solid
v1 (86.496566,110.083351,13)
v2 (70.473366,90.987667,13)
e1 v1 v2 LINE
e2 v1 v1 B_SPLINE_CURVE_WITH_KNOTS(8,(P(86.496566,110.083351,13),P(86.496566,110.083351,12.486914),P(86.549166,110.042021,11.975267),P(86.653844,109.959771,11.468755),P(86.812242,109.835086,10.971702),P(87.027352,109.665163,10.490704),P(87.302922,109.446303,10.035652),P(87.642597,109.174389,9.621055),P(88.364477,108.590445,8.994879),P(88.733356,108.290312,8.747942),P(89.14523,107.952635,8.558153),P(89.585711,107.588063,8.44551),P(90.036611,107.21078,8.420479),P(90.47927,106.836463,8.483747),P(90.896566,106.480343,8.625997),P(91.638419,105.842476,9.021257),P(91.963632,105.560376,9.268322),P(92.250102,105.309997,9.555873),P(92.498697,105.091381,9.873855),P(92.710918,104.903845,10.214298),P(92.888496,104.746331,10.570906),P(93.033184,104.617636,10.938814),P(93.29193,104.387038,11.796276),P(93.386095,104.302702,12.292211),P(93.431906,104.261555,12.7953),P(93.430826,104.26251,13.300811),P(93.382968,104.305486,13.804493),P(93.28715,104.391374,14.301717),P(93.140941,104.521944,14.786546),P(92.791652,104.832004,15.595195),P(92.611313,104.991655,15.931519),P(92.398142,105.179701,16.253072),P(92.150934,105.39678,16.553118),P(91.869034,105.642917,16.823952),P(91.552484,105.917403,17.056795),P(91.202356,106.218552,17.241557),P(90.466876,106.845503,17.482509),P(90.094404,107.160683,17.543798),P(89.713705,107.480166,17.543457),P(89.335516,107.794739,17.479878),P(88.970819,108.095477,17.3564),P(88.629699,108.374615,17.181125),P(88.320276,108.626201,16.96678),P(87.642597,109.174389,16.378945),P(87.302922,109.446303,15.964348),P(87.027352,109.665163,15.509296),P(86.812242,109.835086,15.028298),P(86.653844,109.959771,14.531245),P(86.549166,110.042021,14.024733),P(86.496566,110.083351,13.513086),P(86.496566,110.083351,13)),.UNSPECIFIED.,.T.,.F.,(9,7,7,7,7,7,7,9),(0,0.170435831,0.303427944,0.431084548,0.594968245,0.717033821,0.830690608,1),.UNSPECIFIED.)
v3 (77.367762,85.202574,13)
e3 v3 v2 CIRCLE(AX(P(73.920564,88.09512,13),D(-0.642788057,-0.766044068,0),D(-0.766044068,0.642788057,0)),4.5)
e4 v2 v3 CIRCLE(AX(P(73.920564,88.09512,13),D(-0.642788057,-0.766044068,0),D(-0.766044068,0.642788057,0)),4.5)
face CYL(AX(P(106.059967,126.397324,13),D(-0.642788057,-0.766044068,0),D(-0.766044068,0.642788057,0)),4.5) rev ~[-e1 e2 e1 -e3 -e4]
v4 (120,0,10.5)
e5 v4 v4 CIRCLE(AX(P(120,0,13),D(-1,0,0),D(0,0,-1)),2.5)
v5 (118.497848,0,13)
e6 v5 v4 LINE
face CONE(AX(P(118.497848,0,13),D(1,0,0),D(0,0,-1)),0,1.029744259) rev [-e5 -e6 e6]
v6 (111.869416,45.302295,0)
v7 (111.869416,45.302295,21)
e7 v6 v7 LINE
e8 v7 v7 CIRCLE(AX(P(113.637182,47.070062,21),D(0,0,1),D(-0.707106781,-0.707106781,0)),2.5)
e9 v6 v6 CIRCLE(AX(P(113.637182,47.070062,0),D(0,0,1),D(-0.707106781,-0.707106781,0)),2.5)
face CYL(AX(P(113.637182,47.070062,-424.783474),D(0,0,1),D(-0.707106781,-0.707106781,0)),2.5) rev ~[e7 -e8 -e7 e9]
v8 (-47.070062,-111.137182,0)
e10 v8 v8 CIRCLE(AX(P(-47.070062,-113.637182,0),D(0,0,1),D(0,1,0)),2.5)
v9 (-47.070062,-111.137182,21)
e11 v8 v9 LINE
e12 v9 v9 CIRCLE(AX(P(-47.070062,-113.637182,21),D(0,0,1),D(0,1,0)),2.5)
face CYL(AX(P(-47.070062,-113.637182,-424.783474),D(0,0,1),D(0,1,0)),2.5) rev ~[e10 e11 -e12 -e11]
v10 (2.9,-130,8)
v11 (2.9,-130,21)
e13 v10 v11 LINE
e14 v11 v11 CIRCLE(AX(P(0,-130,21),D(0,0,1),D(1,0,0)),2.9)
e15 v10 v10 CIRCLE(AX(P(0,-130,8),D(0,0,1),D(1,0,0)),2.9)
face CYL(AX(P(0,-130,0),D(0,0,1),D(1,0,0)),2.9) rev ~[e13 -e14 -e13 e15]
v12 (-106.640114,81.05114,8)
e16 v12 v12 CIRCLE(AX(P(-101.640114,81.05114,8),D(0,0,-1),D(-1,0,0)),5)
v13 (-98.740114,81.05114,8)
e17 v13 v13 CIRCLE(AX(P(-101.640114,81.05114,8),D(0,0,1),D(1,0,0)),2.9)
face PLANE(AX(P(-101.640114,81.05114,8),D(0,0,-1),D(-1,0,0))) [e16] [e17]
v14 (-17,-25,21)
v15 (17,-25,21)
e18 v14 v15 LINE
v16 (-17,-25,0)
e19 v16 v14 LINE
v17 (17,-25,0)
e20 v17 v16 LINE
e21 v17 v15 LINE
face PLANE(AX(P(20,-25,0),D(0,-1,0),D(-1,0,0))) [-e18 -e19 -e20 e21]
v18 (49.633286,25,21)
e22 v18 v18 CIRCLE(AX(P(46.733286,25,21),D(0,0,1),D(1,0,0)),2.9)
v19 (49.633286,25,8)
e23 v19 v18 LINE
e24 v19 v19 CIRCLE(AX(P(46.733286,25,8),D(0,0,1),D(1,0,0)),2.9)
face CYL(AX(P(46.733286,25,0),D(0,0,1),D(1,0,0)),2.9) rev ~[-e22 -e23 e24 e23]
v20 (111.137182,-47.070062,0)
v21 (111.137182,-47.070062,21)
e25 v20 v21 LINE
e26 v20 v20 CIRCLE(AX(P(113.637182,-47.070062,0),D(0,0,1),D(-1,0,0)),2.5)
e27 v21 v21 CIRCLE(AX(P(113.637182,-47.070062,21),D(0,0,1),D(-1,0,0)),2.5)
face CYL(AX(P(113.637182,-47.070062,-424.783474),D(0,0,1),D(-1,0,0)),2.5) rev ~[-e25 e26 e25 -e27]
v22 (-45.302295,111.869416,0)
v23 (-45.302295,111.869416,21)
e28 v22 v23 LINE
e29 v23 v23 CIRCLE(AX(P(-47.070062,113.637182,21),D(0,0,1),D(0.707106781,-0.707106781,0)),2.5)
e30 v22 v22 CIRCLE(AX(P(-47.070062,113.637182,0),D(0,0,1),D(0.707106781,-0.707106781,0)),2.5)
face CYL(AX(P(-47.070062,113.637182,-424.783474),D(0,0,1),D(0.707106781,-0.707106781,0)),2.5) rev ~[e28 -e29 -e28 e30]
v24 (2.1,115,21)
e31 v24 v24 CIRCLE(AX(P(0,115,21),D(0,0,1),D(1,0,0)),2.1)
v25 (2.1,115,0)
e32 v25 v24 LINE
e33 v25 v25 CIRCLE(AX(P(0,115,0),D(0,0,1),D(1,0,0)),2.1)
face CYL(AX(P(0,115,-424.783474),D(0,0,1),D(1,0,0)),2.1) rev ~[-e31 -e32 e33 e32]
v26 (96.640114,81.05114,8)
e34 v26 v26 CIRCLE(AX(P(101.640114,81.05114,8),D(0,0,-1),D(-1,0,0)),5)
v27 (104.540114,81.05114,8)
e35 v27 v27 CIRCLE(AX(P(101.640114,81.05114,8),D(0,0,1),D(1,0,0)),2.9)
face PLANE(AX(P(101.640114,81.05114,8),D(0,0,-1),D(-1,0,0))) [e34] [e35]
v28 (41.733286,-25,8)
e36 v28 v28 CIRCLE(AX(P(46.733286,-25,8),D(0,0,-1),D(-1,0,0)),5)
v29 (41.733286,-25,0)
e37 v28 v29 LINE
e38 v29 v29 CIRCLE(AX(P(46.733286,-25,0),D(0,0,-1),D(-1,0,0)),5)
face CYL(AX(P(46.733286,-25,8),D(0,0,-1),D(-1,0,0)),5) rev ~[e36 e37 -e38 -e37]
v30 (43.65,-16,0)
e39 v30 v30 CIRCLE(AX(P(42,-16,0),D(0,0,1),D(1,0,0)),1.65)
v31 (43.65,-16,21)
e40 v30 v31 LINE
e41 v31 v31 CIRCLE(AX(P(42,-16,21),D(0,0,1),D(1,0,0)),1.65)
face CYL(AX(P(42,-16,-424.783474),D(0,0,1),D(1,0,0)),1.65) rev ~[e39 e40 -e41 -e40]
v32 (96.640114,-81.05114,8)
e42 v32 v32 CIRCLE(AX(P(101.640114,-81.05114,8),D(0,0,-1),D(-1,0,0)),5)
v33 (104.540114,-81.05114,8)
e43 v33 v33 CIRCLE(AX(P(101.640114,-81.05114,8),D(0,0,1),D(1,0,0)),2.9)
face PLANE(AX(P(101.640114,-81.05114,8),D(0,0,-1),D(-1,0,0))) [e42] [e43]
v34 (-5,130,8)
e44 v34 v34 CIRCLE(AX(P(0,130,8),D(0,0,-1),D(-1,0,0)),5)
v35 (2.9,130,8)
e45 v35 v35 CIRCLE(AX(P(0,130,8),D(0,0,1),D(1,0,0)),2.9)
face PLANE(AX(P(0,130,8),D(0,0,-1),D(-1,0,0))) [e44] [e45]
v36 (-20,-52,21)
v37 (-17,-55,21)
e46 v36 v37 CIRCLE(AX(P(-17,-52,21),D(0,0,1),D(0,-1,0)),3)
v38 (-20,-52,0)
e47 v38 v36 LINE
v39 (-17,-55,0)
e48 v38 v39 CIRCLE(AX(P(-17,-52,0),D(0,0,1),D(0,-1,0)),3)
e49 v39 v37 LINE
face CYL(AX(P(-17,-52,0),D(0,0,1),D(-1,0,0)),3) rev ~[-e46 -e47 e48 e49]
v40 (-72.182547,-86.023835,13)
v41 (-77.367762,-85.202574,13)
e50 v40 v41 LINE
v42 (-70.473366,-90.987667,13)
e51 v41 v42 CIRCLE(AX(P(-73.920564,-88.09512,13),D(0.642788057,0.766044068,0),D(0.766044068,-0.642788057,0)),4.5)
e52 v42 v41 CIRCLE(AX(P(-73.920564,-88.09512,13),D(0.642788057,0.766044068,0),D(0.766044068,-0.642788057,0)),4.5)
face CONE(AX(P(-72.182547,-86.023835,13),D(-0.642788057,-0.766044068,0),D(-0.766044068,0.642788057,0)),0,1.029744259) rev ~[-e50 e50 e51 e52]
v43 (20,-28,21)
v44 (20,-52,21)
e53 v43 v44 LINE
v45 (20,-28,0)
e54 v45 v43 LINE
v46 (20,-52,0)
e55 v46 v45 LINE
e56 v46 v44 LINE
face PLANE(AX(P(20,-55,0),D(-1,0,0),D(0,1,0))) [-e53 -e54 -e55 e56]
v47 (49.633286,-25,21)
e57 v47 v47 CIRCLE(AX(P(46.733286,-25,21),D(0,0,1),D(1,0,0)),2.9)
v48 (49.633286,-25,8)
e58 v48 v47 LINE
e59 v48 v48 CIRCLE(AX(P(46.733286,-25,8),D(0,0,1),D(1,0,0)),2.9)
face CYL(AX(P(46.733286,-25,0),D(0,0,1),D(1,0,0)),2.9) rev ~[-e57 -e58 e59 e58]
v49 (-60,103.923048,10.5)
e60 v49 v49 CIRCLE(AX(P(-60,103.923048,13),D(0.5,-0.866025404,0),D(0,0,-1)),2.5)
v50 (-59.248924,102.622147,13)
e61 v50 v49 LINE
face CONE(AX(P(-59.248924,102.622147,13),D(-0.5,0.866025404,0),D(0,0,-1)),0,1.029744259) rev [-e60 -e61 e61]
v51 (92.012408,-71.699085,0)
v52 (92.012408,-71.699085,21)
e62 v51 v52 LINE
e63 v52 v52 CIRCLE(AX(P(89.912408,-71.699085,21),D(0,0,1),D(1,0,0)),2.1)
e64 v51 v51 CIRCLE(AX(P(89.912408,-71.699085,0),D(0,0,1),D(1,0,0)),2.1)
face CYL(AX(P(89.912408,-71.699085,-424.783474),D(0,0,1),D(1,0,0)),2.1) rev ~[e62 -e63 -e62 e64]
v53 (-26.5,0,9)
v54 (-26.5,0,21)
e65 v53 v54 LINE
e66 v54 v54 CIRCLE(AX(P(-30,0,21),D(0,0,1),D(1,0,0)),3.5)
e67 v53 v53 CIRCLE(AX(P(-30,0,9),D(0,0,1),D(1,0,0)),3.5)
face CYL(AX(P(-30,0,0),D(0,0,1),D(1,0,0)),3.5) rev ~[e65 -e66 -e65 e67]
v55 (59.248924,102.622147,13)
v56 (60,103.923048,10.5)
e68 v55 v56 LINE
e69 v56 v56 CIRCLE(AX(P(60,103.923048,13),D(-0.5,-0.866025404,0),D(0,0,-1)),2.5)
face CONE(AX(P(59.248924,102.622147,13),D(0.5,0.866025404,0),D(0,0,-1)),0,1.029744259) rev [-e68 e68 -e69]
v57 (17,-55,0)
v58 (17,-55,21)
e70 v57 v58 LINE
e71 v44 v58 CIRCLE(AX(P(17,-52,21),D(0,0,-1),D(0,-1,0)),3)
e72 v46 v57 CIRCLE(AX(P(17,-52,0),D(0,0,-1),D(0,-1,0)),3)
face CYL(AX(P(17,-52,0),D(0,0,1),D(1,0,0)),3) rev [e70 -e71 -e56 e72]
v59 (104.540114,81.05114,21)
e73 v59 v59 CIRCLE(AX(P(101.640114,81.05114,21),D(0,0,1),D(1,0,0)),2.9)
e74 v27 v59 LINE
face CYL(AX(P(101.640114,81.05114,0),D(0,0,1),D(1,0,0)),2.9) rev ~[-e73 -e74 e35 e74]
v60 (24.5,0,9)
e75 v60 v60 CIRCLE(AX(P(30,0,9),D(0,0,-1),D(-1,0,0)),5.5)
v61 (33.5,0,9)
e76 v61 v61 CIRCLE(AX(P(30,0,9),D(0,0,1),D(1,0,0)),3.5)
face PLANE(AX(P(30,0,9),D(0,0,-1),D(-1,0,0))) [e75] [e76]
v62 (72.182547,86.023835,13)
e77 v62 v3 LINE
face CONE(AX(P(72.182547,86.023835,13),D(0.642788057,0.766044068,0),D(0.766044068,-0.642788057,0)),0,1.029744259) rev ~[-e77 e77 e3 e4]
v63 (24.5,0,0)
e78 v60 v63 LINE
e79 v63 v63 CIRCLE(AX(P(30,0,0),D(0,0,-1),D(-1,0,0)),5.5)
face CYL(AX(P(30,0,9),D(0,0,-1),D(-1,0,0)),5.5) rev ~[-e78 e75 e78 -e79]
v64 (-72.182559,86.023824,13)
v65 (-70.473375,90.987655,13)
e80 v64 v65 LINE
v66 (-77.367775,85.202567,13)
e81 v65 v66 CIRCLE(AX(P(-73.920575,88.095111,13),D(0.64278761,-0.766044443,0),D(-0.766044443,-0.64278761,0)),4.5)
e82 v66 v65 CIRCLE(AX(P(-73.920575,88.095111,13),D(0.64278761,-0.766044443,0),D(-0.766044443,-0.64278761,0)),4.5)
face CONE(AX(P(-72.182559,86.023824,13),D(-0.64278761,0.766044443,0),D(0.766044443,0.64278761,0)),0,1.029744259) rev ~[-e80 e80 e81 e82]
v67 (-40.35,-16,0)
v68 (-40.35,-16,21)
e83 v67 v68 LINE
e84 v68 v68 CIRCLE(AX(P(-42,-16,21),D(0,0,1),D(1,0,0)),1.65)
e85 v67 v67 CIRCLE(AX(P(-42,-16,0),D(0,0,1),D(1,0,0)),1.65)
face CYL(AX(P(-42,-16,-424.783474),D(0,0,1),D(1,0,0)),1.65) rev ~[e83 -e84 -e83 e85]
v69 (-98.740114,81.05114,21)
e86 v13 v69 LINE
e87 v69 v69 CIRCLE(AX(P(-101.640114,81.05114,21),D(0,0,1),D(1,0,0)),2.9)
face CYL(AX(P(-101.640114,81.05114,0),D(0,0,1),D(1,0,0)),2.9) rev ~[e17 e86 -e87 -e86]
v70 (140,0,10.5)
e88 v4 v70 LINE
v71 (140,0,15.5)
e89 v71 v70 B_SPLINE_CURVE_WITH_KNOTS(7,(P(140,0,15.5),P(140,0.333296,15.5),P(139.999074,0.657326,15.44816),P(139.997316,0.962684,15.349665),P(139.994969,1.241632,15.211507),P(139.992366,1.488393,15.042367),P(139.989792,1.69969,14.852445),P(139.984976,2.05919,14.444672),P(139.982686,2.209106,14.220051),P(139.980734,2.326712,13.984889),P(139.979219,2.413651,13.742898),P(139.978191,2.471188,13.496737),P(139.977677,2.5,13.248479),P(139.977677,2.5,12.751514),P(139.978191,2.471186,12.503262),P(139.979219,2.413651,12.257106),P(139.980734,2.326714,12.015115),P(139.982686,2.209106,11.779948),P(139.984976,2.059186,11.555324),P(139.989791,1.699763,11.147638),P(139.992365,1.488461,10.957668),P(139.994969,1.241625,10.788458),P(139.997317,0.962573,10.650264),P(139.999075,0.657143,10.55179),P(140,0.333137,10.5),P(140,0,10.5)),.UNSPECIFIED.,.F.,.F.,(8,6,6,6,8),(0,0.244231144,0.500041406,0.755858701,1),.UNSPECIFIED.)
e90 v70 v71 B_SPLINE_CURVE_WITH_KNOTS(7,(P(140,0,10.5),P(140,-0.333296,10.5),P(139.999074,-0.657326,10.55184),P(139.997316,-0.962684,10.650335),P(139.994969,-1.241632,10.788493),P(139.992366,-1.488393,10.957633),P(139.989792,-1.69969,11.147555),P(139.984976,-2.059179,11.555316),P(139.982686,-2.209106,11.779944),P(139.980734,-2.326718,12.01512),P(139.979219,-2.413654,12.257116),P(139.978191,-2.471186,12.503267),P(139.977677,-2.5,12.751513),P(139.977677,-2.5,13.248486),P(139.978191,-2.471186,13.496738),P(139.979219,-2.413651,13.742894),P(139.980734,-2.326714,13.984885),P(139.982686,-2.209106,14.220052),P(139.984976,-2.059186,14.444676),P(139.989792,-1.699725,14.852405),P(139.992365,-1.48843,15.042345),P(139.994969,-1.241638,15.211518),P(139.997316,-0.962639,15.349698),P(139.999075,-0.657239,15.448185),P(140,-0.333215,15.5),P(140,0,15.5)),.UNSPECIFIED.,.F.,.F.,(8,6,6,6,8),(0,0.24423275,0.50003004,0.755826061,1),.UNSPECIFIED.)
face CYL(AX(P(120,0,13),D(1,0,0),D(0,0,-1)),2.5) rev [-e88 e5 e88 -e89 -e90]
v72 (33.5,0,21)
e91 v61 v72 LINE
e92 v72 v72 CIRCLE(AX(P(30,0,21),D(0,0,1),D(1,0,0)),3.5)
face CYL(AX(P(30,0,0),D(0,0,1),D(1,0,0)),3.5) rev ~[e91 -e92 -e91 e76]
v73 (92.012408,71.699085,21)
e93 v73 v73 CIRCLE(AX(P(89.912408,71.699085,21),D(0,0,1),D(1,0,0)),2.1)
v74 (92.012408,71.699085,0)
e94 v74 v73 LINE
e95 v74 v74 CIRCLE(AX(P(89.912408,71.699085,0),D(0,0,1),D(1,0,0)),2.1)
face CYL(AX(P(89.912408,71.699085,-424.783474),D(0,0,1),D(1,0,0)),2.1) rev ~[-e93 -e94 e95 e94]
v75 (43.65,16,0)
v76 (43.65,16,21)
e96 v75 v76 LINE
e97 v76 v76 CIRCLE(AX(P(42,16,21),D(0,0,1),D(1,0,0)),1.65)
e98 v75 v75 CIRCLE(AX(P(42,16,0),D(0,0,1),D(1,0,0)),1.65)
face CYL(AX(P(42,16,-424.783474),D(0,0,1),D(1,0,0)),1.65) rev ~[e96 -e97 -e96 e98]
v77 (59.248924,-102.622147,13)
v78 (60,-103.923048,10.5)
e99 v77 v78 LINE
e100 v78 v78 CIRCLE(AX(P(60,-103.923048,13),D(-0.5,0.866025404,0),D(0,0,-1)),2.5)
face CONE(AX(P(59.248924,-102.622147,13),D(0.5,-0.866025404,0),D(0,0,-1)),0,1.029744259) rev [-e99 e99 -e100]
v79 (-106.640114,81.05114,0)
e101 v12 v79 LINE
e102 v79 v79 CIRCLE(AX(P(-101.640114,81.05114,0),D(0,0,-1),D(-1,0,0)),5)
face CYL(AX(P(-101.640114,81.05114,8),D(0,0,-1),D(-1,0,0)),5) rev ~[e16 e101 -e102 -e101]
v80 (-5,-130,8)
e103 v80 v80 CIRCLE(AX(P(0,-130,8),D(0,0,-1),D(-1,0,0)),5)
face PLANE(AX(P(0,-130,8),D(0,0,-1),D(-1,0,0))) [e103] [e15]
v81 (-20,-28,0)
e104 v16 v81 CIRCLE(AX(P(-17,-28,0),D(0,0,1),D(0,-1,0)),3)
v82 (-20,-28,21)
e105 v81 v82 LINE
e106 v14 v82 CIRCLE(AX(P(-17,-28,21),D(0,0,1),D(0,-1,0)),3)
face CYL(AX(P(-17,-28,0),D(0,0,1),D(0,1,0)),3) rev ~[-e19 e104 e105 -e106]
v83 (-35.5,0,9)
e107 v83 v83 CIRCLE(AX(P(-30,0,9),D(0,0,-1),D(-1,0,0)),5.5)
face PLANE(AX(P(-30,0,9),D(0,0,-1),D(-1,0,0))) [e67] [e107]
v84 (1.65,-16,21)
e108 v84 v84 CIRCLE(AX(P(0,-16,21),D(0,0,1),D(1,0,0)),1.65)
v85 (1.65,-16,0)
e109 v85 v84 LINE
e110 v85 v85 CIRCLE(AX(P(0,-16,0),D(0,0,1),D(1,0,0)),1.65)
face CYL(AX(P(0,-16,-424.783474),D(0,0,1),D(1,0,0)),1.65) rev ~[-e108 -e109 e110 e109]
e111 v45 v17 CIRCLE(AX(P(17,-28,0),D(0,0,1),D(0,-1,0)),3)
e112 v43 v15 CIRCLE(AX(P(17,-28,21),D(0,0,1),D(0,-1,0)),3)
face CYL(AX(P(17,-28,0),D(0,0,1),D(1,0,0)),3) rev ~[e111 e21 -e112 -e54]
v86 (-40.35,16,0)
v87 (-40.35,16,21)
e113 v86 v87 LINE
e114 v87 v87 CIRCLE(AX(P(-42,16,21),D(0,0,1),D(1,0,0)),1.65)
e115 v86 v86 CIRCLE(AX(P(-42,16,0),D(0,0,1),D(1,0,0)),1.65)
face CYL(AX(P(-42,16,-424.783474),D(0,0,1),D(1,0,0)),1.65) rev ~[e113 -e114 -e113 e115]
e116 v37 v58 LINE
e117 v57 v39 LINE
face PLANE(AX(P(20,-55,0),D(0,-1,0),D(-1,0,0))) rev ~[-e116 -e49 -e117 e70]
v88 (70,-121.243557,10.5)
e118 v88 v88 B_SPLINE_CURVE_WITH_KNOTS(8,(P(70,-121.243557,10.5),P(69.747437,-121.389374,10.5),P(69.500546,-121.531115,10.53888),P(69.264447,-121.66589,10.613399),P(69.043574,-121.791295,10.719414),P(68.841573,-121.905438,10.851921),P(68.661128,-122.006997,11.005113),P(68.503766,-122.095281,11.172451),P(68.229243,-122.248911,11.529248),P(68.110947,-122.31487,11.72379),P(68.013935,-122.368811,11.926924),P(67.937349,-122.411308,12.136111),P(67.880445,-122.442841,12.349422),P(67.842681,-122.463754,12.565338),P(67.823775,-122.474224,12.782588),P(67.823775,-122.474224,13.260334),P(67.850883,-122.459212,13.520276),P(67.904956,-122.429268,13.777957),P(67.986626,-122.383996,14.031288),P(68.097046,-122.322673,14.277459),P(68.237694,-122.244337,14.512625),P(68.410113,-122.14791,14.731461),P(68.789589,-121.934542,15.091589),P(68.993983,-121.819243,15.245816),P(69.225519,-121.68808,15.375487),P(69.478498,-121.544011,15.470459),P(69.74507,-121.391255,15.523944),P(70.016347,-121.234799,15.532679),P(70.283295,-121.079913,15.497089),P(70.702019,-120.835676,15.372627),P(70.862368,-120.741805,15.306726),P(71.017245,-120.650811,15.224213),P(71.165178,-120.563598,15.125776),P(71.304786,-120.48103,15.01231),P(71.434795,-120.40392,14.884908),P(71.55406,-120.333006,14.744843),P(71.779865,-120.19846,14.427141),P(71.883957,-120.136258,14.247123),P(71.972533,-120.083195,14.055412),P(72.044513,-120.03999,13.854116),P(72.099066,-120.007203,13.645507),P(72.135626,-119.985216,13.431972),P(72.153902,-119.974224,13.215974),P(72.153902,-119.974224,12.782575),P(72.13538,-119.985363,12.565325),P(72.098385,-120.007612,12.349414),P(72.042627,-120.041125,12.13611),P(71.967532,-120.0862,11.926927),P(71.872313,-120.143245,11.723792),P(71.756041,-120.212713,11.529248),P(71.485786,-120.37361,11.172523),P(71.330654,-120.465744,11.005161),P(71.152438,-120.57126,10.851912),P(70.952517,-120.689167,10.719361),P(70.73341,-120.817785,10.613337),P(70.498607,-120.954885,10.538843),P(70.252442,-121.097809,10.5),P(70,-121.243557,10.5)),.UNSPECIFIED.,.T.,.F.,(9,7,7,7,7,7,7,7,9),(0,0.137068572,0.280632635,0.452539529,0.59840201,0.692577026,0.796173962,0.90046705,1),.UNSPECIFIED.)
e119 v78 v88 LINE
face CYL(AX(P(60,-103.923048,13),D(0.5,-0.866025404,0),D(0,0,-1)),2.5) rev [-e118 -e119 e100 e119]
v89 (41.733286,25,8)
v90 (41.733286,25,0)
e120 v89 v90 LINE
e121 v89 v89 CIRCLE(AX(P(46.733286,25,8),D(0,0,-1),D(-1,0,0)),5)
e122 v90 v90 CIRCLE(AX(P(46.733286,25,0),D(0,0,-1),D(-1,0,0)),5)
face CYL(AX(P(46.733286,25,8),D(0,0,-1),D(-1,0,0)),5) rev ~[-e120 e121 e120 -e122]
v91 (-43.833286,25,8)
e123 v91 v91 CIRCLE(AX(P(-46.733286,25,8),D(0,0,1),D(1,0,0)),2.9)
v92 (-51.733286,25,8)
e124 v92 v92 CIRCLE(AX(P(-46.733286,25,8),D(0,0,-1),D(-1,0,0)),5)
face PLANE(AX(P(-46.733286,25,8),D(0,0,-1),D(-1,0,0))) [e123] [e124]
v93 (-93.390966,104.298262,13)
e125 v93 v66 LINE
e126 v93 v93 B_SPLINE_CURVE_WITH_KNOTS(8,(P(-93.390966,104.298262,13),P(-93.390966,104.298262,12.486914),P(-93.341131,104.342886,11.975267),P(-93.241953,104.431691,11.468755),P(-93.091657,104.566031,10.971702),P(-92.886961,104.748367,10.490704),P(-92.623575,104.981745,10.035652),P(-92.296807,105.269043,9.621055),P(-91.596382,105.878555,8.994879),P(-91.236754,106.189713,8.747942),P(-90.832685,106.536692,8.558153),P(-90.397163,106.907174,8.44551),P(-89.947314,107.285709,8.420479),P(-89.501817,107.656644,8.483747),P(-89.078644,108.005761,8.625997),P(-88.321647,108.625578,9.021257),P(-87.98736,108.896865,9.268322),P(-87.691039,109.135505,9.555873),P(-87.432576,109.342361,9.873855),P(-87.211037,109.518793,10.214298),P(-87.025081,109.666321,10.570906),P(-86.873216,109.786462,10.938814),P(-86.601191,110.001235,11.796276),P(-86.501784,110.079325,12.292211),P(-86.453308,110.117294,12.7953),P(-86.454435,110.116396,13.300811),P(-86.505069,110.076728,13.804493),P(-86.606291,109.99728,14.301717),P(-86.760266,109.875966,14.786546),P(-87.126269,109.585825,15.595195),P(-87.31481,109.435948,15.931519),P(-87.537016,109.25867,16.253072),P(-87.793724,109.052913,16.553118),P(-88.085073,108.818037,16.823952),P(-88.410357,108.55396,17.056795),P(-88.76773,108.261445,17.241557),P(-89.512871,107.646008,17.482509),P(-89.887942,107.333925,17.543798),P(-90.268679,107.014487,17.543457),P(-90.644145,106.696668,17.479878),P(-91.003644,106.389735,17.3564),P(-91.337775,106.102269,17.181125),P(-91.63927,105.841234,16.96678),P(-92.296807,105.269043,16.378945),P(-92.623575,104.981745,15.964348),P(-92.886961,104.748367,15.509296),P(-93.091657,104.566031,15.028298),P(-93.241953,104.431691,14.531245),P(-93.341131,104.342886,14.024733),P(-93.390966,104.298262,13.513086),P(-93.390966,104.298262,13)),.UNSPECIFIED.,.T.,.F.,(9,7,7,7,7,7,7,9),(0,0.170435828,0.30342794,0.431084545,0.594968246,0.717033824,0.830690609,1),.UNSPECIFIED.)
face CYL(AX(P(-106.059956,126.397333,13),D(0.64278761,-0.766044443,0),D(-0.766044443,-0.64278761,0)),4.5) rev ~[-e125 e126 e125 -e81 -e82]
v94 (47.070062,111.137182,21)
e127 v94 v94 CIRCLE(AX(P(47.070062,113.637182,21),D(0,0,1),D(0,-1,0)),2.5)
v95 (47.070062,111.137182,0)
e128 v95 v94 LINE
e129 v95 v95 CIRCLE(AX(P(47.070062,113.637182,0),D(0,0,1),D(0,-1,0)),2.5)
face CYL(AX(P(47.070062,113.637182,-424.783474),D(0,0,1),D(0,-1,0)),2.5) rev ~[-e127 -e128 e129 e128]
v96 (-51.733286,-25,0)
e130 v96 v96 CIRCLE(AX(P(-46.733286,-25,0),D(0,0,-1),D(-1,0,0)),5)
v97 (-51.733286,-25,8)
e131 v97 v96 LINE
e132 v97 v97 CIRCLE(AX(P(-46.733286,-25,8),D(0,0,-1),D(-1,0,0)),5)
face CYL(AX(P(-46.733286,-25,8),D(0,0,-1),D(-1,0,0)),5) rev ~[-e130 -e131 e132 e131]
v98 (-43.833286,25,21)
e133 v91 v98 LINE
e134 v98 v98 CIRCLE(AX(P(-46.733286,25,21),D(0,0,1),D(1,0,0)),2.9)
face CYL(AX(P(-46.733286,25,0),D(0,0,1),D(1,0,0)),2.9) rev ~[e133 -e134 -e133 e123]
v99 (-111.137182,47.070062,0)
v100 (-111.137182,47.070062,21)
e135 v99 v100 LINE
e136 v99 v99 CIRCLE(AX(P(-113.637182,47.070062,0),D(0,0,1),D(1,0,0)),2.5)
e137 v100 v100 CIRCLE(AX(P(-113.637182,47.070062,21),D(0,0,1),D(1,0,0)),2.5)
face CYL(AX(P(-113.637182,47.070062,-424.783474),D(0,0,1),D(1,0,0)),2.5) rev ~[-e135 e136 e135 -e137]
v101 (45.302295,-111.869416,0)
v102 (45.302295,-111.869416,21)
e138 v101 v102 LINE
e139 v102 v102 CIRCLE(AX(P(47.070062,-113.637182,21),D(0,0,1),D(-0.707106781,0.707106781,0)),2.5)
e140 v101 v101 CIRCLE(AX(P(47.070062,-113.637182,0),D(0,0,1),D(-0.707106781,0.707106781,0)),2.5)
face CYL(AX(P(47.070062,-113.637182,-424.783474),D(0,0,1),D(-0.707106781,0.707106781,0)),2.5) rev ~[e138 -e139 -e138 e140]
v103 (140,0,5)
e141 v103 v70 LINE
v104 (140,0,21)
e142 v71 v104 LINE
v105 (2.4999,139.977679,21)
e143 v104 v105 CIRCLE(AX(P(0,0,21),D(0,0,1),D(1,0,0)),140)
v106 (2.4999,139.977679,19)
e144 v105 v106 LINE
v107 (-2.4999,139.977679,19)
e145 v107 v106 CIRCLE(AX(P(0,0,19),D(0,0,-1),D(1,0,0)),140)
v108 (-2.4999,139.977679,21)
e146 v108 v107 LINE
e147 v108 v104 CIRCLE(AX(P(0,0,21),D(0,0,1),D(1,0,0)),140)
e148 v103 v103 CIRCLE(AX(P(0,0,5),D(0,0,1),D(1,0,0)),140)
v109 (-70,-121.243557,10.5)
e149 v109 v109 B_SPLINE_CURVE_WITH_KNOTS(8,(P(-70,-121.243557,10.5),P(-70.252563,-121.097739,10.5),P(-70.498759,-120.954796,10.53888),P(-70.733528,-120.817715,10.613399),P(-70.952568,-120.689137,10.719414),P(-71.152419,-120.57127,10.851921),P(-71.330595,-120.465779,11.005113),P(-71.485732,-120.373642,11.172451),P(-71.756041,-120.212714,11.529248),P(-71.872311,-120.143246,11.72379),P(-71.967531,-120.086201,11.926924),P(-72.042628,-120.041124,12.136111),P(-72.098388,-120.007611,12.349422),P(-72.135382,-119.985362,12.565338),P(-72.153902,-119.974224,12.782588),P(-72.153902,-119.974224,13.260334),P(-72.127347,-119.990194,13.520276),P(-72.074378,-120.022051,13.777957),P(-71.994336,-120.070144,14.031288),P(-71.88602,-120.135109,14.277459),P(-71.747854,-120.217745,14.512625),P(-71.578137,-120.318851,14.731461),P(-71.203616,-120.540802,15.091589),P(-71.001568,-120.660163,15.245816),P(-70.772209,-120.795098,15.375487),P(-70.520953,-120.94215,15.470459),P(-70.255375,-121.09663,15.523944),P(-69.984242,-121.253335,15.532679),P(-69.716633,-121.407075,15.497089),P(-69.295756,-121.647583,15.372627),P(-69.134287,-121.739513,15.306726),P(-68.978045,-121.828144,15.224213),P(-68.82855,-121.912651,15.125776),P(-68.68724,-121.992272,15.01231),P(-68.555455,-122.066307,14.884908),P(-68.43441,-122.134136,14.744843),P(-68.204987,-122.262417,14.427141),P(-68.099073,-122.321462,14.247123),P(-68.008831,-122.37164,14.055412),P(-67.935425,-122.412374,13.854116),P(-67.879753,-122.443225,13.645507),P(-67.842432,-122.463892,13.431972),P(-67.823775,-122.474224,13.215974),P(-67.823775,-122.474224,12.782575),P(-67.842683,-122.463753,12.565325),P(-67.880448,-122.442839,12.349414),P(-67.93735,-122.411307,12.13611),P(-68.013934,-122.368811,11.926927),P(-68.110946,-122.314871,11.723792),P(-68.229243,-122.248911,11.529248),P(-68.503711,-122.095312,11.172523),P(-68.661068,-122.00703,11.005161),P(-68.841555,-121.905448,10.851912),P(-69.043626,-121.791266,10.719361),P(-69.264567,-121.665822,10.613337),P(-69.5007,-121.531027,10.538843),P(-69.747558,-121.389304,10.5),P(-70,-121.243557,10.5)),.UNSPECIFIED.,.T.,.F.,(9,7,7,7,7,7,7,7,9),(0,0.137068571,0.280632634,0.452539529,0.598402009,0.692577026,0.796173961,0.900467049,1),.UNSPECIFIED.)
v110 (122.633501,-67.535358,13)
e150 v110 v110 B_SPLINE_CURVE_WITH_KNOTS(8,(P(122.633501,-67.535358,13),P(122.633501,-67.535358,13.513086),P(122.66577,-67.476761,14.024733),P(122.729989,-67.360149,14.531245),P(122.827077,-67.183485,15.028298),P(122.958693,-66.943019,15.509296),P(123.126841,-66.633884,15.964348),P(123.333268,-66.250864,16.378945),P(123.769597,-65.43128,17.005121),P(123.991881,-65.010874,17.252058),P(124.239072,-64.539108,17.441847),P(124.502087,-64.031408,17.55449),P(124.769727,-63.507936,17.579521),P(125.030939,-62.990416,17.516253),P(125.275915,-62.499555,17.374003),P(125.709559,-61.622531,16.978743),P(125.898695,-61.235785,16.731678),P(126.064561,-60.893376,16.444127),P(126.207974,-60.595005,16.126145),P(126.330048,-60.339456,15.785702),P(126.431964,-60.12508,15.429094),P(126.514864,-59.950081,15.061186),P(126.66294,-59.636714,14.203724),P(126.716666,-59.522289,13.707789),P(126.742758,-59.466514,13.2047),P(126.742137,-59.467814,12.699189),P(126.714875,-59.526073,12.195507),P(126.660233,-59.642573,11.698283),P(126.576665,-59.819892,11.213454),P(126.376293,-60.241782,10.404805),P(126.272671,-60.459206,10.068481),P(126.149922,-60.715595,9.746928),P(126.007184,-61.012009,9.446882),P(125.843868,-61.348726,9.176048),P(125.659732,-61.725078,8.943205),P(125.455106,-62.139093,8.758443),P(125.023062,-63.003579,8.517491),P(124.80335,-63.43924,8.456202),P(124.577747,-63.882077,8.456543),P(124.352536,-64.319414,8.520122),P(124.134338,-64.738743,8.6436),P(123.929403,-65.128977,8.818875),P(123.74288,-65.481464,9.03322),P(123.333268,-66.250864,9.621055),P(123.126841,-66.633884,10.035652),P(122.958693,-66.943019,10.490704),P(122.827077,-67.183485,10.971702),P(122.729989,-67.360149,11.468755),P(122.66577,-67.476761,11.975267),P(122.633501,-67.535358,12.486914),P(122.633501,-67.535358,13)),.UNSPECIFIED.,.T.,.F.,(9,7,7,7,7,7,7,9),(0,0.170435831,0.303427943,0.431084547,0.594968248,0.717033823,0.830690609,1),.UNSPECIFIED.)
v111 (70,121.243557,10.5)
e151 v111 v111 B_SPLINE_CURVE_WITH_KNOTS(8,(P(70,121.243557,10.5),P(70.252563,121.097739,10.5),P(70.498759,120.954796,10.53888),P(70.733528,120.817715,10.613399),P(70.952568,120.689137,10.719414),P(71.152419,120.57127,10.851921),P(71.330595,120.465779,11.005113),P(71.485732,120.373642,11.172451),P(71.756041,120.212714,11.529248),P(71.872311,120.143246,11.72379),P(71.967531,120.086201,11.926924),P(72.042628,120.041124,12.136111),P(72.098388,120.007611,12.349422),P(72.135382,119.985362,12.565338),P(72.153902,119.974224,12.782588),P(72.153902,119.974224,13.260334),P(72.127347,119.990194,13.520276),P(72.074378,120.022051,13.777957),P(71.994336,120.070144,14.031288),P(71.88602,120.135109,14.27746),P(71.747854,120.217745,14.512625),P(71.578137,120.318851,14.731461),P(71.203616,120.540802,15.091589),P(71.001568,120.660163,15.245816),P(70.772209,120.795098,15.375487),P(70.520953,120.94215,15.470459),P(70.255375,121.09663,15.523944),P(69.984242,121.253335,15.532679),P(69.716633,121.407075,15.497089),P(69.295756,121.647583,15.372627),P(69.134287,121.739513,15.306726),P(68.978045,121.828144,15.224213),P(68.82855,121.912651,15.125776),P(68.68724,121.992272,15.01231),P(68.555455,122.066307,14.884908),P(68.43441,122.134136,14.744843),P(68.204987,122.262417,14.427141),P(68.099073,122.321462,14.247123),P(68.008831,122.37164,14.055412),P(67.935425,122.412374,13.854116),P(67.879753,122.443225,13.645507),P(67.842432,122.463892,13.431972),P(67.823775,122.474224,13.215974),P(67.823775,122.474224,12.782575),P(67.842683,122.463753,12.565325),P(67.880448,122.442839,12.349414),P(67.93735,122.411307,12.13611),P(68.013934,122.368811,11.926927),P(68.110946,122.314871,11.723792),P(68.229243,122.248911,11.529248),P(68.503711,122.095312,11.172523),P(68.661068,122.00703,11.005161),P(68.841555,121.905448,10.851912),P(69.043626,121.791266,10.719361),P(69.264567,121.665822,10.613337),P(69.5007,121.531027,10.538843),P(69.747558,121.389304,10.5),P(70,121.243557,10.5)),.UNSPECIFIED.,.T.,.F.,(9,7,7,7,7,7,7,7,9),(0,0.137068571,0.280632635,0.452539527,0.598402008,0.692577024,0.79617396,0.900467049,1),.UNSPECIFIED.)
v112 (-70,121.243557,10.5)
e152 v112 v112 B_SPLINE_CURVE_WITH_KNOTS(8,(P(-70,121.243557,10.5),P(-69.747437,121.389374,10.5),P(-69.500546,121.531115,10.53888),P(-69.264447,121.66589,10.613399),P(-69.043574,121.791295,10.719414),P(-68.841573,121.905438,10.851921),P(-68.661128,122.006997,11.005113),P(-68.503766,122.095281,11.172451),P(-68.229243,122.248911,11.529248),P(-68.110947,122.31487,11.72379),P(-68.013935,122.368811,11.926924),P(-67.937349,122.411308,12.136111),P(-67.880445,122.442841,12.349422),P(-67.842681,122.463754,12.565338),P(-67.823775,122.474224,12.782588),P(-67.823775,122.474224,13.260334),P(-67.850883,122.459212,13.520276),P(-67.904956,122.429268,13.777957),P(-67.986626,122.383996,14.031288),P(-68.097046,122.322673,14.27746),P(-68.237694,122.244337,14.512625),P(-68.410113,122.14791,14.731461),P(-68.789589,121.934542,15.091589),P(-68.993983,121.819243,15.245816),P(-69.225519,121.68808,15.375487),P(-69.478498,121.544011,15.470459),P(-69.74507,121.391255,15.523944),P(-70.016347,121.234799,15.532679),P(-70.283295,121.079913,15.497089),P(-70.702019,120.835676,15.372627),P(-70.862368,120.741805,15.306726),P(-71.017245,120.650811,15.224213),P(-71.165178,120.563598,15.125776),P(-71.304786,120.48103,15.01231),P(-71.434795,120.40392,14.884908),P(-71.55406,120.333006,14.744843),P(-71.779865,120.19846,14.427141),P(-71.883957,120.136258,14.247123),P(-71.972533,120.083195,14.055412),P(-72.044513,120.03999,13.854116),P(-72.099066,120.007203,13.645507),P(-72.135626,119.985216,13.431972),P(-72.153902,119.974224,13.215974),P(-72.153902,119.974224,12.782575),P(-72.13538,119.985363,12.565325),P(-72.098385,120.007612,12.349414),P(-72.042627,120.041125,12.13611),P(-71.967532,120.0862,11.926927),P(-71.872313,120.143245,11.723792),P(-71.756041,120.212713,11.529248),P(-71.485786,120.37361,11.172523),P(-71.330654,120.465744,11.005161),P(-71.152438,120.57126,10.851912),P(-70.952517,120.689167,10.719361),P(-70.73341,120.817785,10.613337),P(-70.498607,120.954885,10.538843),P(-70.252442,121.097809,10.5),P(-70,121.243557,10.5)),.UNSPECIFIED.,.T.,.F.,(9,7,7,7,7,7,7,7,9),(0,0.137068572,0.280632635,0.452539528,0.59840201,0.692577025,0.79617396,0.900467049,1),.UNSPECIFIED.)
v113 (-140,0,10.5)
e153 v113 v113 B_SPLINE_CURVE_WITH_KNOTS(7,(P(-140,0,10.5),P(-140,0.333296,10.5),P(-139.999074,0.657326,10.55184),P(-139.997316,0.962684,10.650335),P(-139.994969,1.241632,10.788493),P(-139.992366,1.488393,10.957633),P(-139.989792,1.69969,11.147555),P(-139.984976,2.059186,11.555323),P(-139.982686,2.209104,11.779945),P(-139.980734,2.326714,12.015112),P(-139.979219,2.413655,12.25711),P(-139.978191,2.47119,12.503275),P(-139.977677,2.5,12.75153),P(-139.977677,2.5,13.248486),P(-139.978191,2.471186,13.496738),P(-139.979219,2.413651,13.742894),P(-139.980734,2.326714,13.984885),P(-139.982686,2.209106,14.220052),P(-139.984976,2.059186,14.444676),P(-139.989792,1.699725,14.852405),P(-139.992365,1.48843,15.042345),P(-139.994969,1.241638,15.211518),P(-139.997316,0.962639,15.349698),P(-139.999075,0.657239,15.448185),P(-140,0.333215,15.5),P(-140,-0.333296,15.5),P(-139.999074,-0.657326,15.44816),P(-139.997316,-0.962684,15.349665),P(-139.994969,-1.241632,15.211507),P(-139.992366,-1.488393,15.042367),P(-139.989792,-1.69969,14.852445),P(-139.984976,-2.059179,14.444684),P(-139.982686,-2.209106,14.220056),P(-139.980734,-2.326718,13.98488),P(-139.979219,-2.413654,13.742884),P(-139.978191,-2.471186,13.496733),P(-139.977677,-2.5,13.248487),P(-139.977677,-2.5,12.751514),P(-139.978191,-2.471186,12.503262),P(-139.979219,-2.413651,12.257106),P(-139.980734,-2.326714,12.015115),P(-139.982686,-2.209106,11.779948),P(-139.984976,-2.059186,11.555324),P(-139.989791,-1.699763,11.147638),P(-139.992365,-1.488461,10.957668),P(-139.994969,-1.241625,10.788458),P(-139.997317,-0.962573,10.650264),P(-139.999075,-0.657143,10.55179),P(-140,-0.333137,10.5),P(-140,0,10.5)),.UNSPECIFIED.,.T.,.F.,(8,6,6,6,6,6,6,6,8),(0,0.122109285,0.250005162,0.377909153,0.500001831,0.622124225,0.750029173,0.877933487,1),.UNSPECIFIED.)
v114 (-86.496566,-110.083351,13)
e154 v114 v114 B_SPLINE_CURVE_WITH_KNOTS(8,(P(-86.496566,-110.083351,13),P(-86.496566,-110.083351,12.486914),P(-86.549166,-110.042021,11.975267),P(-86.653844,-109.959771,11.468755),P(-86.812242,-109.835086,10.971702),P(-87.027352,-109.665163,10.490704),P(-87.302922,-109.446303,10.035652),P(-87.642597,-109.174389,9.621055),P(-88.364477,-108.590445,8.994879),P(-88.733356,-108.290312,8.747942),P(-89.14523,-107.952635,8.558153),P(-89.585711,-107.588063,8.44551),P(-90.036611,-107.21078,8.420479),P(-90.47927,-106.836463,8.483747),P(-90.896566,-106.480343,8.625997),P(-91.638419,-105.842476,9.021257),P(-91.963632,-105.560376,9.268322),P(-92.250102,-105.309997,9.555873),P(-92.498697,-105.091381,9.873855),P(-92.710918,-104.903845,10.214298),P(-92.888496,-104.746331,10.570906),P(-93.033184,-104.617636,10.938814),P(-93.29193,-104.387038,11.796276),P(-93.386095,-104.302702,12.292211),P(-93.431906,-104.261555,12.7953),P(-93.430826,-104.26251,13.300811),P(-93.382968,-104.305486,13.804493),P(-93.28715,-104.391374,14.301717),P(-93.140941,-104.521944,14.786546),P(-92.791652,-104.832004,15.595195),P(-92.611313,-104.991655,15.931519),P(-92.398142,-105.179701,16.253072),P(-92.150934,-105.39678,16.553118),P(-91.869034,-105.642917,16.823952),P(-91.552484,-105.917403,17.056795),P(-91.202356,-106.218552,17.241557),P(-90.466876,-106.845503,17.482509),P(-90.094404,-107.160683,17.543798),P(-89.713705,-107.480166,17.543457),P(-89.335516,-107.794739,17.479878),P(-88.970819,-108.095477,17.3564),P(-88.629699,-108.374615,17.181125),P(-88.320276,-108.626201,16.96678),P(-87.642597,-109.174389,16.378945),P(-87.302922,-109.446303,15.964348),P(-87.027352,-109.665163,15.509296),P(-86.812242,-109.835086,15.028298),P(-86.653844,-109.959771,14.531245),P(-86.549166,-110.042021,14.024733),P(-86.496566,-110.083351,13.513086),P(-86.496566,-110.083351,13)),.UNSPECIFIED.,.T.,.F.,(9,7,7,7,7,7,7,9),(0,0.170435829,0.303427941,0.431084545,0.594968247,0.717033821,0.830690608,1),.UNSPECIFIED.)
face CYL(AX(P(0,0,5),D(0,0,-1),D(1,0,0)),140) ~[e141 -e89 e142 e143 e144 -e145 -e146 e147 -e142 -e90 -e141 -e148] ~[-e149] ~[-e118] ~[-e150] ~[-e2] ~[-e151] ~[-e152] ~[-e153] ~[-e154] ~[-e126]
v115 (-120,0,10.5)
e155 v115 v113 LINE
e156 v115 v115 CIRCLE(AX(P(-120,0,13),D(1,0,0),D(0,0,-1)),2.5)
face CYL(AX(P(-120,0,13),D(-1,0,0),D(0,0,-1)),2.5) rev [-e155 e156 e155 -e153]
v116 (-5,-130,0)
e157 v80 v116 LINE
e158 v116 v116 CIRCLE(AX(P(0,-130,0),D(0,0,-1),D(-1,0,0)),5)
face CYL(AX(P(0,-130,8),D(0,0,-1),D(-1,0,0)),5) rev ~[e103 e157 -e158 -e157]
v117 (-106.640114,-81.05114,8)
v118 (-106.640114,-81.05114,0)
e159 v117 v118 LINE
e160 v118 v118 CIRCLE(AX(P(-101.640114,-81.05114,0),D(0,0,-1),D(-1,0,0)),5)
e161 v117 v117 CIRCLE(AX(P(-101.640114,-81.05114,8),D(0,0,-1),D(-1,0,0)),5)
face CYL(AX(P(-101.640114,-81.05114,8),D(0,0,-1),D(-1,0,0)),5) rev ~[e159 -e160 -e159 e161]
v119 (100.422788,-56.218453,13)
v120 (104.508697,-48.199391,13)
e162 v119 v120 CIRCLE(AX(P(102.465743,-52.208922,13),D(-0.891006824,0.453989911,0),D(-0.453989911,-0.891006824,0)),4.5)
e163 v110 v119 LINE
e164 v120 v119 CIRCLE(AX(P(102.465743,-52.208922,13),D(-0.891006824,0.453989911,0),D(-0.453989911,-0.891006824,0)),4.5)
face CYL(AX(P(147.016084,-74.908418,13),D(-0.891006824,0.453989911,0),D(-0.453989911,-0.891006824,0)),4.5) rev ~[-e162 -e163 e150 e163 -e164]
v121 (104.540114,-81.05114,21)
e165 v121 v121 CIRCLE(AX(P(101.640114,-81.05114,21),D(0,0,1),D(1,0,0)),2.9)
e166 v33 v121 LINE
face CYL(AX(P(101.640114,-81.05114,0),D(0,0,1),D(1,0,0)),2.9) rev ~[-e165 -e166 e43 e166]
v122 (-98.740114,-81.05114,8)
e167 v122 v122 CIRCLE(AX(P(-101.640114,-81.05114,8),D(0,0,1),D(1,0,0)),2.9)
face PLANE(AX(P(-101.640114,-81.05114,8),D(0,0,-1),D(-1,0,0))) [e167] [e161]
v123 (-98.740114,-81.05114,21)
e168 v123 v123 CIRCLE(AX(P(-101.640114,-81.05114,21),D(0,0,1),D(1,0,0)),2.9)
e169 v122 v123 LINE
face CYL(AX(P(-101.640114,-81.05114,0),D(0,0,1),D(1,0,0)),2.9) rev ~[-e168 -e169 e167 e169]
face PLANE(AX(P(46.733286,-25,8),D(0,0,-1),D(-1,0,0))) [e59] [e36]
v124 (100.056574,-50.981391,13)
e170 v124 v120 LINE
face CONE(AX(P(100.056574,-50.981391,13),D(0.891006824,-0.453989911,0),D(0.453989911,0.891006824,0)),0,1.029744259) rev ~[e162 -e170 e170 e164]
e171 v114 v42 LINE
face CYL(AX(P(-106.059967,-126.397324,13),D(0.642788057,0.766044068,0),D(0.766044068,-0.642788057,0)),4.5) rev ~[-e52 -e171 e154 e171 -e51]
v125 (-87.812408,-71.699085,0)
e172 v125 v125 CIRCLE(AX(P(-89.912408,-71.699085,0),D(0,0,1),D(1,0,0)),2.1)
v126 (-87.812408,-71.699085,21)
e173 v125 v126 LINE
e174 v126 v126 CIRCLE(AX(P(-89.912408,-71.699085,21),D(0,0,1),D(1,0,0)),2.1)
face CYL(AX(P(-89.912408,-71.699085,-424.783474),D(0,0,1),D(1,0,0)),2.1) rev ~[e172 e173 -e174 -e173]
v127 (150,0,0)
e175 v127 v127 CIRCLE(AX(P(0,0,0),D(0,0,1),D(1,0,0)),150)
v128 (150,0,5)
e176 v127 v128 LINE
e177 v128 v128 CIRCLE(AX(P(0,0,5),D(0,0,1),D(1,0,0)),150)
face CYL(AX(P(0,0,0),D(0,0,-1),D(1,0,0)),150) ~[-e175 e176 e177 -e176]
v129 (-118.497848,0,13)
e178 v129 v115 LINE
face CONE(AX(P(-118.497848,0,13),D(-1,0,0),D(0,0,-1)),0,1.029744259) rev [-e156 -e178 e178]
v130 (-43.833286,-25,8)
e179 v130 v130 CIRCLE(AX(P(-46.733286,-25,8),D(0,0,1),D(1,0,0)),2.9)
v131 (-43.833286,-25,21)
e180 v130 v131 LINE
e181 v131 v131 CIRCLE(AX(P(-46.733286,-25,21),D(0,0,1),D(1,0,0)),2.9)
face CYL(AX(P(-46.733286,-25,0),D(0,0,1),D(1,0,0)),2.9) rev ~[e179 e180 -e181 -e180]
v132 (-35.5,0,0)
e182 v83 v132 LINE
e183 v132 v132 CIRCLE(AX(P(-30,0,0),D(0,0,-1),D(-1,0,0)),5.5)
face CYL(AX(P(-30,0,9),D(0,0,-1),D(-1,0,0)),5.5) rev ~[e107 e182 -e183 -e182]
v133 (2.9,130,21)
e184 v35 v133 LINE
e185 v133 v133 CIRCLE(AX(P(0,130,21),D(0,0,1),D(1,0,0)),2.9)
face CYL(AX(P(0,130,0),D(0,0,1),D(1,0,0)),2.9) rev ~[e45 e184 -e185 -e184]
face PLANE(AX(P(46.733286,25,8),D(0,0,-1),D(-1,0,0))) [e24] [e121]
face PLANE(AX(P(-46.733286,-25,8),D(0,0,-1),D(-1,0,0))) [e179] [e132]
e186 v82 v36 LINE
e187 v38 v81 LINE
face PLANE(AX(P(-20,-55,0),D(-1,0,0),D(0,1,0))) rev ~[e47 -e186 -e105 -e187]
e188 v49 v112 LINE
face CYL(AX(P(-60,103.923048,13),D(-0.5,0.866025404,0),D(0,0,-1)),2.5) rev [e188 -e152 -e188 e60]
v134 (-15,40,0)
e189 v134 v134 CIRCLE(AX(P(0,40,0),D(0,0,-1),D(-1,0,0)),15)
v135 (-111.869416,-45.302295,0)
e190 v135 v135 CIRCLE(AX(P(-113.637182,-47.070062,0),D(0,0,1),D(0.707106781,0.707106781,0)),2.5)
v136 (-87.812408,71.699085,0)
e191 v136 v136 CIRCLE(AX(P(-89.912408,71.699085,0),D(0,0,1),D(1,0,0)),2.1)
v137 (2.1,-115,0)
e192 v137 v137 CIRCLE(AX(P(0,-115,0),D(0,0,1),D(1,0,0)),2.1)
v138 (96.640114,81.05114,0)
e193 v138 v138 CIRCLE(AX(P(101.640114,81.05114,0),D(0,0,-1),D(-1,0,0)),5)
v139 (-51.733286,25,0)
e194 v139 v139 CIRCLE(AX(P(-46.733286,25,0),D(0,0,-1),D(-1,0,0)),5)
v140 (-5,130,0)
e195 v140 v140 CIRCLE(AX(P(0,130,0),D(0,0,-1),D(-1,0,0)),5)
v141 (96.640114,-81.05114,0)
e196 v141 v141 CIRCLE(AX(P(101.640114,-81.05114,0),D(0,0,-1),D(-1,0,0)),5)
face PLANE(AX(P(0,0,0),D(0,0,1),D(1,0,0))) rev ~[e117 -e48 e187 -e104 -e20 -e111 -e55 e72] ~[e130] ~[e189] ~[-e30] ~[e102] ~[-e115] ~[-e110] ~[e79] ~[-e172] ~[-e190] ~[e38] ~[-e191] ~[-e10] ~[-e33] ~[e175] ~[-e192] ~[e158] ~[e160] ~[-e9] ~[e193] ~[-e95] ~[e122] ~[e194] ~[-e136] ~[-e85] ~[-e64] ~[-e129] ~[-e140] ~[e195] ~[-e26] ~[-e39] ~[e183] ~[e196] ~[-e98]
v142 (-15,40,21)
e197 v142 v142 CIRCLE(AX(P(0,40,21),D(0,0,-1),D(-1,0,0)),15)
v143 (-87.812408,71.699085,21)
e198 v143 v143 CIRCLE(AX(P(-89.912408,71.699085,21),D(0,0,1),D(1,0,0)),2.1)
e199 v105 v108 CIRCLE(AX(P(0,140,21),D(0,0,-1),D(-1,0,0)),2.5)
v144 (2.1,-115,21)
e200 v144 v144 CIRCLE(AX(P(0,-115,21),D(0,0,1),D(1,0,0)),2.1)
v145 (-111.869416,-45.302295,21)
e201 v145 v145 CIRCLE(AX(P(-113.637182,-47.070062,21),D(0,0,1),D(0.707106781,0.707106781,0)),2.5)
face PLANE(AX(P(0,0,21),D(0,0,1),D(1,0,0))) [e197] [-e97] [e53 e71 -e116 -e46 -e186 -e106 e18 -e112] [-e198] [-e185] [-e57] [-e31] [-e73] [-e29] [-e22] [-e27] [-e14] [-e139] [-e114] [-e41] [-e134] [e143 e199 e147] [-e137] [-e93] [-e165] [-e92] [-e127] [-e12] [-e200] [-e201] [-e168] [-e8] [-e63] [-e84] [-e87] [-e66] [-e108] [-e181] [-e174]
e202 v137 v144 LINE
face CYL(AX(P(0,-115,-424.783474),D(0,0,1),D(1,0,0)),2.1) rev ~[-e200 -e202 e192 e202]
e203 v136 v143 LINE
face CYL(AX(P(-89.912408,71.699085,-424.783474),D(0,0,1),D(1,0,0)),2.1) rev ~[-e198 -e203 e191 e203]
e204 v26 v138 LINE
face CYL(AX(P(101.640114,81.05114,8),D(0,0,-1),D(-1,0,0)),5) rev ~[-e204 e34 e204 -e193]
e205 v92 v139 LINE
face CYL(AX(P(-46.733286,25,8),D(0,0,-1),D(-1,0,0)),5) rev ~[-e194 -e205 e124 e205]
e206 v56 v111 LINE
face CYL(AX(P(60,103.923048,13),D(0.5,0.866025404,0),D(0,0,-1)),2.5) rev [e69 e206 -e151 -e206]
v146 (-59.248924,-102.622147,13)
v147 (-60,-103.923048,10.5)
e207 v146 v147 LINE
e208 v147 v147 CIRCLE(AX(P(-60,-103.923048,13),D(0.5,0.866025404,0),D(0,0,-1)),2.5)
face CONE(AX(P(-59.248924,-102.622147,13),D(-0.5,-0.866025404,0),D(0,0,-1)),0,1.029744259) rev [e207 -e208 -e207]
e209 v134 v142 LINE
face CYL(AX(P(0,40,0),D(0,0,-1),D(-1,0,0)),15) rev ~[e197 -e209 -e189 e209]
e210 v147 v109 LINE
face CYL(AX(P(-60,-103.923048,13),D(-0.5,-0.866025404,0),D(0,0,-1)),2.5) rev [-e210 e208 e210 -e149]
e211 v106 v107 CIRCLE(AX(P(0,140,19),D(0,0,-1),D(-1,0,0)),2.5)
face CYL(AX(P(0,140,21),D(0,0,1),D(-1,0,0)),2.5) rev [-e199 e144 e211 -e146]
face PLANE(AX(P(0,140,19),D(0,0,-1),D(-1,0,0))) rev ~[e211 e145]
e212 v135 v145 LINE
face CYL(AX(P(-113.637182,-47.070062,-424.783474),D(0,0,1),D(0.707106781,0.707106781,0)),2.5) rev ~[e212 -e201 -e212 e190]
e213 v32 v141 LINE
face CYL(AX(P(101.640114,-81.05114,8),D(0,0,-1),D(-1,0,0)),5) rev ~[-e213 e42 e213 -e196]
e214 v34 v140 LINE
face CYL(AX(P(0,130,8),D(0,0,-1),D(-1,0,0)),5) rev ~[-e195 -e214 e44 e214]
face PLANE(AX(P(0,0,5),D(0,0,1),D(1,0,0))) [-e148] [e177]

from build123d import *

# Parameters (mm, degrees)
SKETCH_1_R                   = 150
EXTRUDE_1_DEPTH              = 5
SKETCH_2_R                   = 140
EXTRUDE_2_DEPTH              = 16
SKETCH_3_R                   = 15
SKETCH_3_W                   = 40
SKETCH_3_H                   = 30
CUT_EXTRUDE_1_DEPTH          = 214.168947082
FILLET_2_R                   = 3
HOLE_WIZARD_M5_1_D           = 5.8
HOLE_WIZARD_M5_1_CBORE_D     = 10
HOLE_WIZARD_M5_1_CBORE_DEPTH = 8
HOLE_WIZARD_M6_1_D           = 7
HOLE_WIZARD_M6_1_CBORE_D     = 11
HOLE_WIZARD_M6_1_CBORE_DEPTH = 9
HOLE_WIZARD_M5_2_D           = 5.8
HOLE_WIZARD_M5_2_CBORE_D     = 10
HOLE_WIZARD_M5_2_CBORE_DEPTH = 8
M4X0_7_1_D                   = 3.3
M6X1_0_1_D                   = 5
PATTERN_CIRCULAR_1_COUNT     = 8
SKETCH_14_R                  = 2.5
CUT_EXTRUDE_2_DEPTH          = 2
M5X0_8_1_D                   = 4.2
PATTERN_CIRCULAR_2_COUNT     = 6
M10X1_0_1_D                  = 9
M10X1_0_1_DEPTH              = 25
M10X1_0_1_TIP                = 2.703872786
M10X1_0_1_ON_FACE_2_D        = 9
M10X1_0_1_ON_FACE_2_DEPTH    = 25
M10X1_0_1_ON_FACE_2_TIP      = 2.703872786
M10X1_0_1_ON_FACE_3_D        = 9
M10X1_0_1_ON_FACE_3_DEPTH    = 25
M10X1_0_1_ON_FACE_3_TIP      = 2.703872786
M10X1_0_1_ON_FACE_4_D        = 9
M10X1_0_1_ON_FACE_4_DEPTH    = 25
M10X1_0_1_ON_FACE_4_TIP      = 2.703872786


with BuildPart() as part:
    # ｽｹｯﾁ1 → ﾎﾞｽ - 押し出し1 (new body)
    with BuildSketch(Plane.XY):
        Circle(SKETCH_1_R)
    extrude(amount=EXTRUDE_1_DEPTH)

    # ｽｹｯﾁ2 → ﾎﾞｽ - 押し出し2 (add)
    with BuildSketch(Plane.XY.offset(5)):
        Circle(SKETCH_2_R)
    extrude(amount=EXTRUDE_2_DEPTH)

    # ｽｹｯﾁ3 → ｶｯﾄ - 押し出し1 (cut, through all)
    with BuildSketch(Plane(origin=(0, 0, 0), x_dir=(-1, 0, 0), z_dir=(0, 0, -1))):
        with Locations((0, 40)):
            Circle(SKETCH_3_R)
        with Locations((0, -40)):
            Rectangle(SKETCH_3_W, SKETCH_3_H)
    extrude(amount=-CUT_EXTRUDE_1_DEPTH, mode=Mode.SUBTRACT)

    # ﾌｨﾚｯﾄ2
    fillet_2_edges = [part.edges().sort_by_distance(p)[0] for p in [
        (-20, -25, 10.5),
        (-20, -55, 10.5),
        (20, -55, 10.5),
        (20, -25, 10.5),
    ]]
    fillet(fillet_2_edges, radius=FILLET_2_R)

    # M5 穴付きねじ用座ぐり穴1 (through all)
    with Locations(Plane(origin=(0, 130, 0), x_dir=(-1, 0, 0), z_dir=(0, 0, -1))):
        with Locations((0, 0), (101.640113623, -48.948859954), (-101.640113623, -48.948859954), (-101.640113623, -211.051140046), (0, -260), (101.640113623, -211.051140046)):
            CounterBoreHole(HOLE_WIZARD_M5_1_D / 2, HOLE_WIZARD_M5_1_CBORE_D / 2, HOLE_WIZARD_M5_1_CBORE_DEPTH)

    # M6 穴付きねじ用座ぐり穴1 (through all)
    with Locations(Plane(origin=(30, 0, 0), x_dir=(-1, 0, 0), z_dir=(0, 0, -1))):
        with Locations((0, 0), (60, 0)):
            CounterBoreHole(HOLE_WIZARD_M6_1_D / 2, HOLE_WIZARD_M6_1_CBORE_D / 2, HOLE_WIZARD_M6_1_CBORE_DEPTH)

    # M5 穴付きねじ用座ぐり穴2 (through all)
    with Locations(Plane(origin=(46.733285782, 25, 0), x_dir=(-1, 0, 0), z_dir=(0, 0, -1))):
        with Locations((0, 0), (0, -50), (93.466571564, 0), (93.466571564, -50)):
            CounterBoreHole(HOLE_WIZARD_M5_2_D / 2, HOLE_WIZARD_M5_2_CBORE_D / 2, HOLE_WIZARD_M5_2_CBORE_DEPTH)

    # M4x0.7 ねじ穴1 (through all)
    with Locations(Plane(origin=(42, 16, 0), x_dir=(-1, 0, 0), z_dir=(0, 0, -1))):
        with Locations((0, 0), (84, 0), (84, -32), (42, -32), (0, -32)):
            Hole(M4X0_7_1_D / 2)

    # M6x1.0 ねじ穴1 (through all)
    with Locations(Plane(origin=(-113.637182499, 47.070062181, 0), x_dir=(-1, 0, 0), z_dir=(0, 0, -1))):
        with Locations((0, 0)):
            m6x1_0_1 = Hole(M6X1_0_1_D / 2)

    # 円形ﾊﾟﾀｰﾝ1: M6x1.0 ねじ穴1 ×8 about axis
    pattern_circular_1_axis = Axis((0, 0, 0), (0, 0, 1))
    for i in range(1, PATTERN_CIRCULAR_1_COUNT):
        add(m6x1_0_1.rotate(pattern_circular_1_axis, i * 360 / PATTERN_CIRCULAR_1_COUNT), mode=Mode.SUBTRACT)

    # ｽｹｯﾁ14 → ｶｯﾄ - 押し出し2 (cut)
    with BuildSketch(Plane(origin=(0, 0, 21), x_dir=(-1, 0, 0), z_dir=(0, 0, -1))):
        with Locations((0, 140)):
            Circle(SKETCH_14_R)
    extrude(amount=CUT_EXTRUDE_2_DEPTH, mode=Mode.SUBTRACT)

    # M5x0.8 ねじ穴1 (through all)
    with Locations(Plane(origin=(-89.912408205, 71.699085425, 0), x_dir=(-1, 0, 0), z_dir=(0, 0, -1))):
        with Locations((0, 0), (0, -143.39817085), (-89.912408205, -186.699085425), (-179.82481641, -143.39817085), (-179.82481641, 0), (-89.912408205, 43.300914575)):
            Hole(M5X0_8_1_D / 2)

    # ｽｹｯﾁ19 → M6x1.0 ねじ穴2 (revolve, cut)
    with BuildSketch(Plane(origin=(140, 0, 13), x_dir=(0, 0, -1), z_dir=(0, 1, 0))):
        Polygon((0, 0), (0, 21.502151548), (2.5, 20), (2.5, 0), align=None)
    m6x1_0_2 = revolve(axis=Axis((146.35, 0, 13), (-1, 0, 0)), mode=Mode.SUBTRACT)

    # 円形ﾊﾟﾀｰﾝ2: M6x1.0 ねじ穴2 ×6 about axis
    pattern_circular_2_axis = Axis((0, 0, -1.05), (0, 0, 1))
    for i in range(1, PATTERN_CIRCULAR_2_COUNT):
        add(m6x1_0_2.rotate(pattern_circular_2_axis, i * 360 / PATTERN_CIRCULAR_2_COUNT), mode=Mode.SUBTRACT)

    # M10x1.0 ねじ穴1
    with Locations(Plane(origin=(-89.990265356, 107.246222037, 13), x_dir=(0.766044443119, 0.642787609687, 0), z_dir=(-0.642787609687, 0.766044443119, 0))):
        with Locations((0, 0)):
            Hole(M10X1_0_1_D / 2, depth=M10X1_0_1_DEPTH)
            with Locations((0, 0, -(M10X1_0_1_DEPTH + M10X1_0_1_TIP / 2))):  # 118° drill point
                Cone(0, M10X1_0_1_D / 2, M10X1_0_1_TIP, mode=Mode.SUBTRACT)

    # M10x1.0 ねじ穴1 on face 2
    with Locations(Plane(origin=(89.990265356, 107.246222037, 13), x_dir=(0.766044067841, -0.642788056925, 0), z_dir=(0.642788056925, 0.766044067841, 0))):
        with Locations((0, 0)):
            Hole(M10X1_0_1_ON_FACE_2_D / 2, depth=M10X1_0_1_ON_FACE_2_DEPTH)
            with Locations((0, 0, -(M10X1_0_1_ON_FACE_2_DEPTH + M10X1_0_1_ON_FACE_2_TIP / 2))):  # 118° drill point
                Cone(0, M10X1_0_1_ON_FACE_2_D / 2, M10X1_0_1_ON_FACE_2_TIP, mode=Mode.SUBTRACT)

    # M10x1.0 ねじ穴1 on face 3
    with Locations(Plane(origin=(124.740913386, -63.558669964, 13), x_dir=(0.45398991053, 0.891006824405, 0), z_dir=(0.891006824405, -0.45398991053, 0))):
        with Locations((1e-09, 0)):
            Hole(M10X1_0_1_ON_FACE_3_D / 2, depth=M10X1_0_1_ON_FACE_3_DEPTH)
            with Locations((0, 0, -(M10X1_0_1_ON_FACE_3_DEPTH + M10X1_0_1_ON_FACE_3_TIP / 2))):  # 118° drill point
                Cone(0, M10X1_0_1_ON_FACE_3_D / 2, M10X1_0_1_ON_FACE_3_TIP, mode=Mode.SUBTRACT)

    # M10x1.0 ねじ穴1 on face 4
    with Locations(Plane(origin=(-89.990265356, -107.246222037, 13), x_dir=(-0.766044067841, 0.642788056925, 0), z_dir=(-0.642788056925, -0.766044067841, 0))):
        with Locations((0, 0)):
            Hole(M10X1_0_1_ON_FACE_4_D / 2, depth=M10X1_0_1_ON_FACE_4_DEPTH)
            with Locations((0, 0, -(M10X1_0_1_ON_FACE_4_DEPTH + M10X1_0_1_ON_FACE_4_TIP / 2))):  # 118° drill point
                Cone(0, M10X1_0_1_ON_FACE_4_D / 2, M10X1_0_1_ON_FACE_4_TIP, mode=Mode.SUBTRACT)


solid = part.part
